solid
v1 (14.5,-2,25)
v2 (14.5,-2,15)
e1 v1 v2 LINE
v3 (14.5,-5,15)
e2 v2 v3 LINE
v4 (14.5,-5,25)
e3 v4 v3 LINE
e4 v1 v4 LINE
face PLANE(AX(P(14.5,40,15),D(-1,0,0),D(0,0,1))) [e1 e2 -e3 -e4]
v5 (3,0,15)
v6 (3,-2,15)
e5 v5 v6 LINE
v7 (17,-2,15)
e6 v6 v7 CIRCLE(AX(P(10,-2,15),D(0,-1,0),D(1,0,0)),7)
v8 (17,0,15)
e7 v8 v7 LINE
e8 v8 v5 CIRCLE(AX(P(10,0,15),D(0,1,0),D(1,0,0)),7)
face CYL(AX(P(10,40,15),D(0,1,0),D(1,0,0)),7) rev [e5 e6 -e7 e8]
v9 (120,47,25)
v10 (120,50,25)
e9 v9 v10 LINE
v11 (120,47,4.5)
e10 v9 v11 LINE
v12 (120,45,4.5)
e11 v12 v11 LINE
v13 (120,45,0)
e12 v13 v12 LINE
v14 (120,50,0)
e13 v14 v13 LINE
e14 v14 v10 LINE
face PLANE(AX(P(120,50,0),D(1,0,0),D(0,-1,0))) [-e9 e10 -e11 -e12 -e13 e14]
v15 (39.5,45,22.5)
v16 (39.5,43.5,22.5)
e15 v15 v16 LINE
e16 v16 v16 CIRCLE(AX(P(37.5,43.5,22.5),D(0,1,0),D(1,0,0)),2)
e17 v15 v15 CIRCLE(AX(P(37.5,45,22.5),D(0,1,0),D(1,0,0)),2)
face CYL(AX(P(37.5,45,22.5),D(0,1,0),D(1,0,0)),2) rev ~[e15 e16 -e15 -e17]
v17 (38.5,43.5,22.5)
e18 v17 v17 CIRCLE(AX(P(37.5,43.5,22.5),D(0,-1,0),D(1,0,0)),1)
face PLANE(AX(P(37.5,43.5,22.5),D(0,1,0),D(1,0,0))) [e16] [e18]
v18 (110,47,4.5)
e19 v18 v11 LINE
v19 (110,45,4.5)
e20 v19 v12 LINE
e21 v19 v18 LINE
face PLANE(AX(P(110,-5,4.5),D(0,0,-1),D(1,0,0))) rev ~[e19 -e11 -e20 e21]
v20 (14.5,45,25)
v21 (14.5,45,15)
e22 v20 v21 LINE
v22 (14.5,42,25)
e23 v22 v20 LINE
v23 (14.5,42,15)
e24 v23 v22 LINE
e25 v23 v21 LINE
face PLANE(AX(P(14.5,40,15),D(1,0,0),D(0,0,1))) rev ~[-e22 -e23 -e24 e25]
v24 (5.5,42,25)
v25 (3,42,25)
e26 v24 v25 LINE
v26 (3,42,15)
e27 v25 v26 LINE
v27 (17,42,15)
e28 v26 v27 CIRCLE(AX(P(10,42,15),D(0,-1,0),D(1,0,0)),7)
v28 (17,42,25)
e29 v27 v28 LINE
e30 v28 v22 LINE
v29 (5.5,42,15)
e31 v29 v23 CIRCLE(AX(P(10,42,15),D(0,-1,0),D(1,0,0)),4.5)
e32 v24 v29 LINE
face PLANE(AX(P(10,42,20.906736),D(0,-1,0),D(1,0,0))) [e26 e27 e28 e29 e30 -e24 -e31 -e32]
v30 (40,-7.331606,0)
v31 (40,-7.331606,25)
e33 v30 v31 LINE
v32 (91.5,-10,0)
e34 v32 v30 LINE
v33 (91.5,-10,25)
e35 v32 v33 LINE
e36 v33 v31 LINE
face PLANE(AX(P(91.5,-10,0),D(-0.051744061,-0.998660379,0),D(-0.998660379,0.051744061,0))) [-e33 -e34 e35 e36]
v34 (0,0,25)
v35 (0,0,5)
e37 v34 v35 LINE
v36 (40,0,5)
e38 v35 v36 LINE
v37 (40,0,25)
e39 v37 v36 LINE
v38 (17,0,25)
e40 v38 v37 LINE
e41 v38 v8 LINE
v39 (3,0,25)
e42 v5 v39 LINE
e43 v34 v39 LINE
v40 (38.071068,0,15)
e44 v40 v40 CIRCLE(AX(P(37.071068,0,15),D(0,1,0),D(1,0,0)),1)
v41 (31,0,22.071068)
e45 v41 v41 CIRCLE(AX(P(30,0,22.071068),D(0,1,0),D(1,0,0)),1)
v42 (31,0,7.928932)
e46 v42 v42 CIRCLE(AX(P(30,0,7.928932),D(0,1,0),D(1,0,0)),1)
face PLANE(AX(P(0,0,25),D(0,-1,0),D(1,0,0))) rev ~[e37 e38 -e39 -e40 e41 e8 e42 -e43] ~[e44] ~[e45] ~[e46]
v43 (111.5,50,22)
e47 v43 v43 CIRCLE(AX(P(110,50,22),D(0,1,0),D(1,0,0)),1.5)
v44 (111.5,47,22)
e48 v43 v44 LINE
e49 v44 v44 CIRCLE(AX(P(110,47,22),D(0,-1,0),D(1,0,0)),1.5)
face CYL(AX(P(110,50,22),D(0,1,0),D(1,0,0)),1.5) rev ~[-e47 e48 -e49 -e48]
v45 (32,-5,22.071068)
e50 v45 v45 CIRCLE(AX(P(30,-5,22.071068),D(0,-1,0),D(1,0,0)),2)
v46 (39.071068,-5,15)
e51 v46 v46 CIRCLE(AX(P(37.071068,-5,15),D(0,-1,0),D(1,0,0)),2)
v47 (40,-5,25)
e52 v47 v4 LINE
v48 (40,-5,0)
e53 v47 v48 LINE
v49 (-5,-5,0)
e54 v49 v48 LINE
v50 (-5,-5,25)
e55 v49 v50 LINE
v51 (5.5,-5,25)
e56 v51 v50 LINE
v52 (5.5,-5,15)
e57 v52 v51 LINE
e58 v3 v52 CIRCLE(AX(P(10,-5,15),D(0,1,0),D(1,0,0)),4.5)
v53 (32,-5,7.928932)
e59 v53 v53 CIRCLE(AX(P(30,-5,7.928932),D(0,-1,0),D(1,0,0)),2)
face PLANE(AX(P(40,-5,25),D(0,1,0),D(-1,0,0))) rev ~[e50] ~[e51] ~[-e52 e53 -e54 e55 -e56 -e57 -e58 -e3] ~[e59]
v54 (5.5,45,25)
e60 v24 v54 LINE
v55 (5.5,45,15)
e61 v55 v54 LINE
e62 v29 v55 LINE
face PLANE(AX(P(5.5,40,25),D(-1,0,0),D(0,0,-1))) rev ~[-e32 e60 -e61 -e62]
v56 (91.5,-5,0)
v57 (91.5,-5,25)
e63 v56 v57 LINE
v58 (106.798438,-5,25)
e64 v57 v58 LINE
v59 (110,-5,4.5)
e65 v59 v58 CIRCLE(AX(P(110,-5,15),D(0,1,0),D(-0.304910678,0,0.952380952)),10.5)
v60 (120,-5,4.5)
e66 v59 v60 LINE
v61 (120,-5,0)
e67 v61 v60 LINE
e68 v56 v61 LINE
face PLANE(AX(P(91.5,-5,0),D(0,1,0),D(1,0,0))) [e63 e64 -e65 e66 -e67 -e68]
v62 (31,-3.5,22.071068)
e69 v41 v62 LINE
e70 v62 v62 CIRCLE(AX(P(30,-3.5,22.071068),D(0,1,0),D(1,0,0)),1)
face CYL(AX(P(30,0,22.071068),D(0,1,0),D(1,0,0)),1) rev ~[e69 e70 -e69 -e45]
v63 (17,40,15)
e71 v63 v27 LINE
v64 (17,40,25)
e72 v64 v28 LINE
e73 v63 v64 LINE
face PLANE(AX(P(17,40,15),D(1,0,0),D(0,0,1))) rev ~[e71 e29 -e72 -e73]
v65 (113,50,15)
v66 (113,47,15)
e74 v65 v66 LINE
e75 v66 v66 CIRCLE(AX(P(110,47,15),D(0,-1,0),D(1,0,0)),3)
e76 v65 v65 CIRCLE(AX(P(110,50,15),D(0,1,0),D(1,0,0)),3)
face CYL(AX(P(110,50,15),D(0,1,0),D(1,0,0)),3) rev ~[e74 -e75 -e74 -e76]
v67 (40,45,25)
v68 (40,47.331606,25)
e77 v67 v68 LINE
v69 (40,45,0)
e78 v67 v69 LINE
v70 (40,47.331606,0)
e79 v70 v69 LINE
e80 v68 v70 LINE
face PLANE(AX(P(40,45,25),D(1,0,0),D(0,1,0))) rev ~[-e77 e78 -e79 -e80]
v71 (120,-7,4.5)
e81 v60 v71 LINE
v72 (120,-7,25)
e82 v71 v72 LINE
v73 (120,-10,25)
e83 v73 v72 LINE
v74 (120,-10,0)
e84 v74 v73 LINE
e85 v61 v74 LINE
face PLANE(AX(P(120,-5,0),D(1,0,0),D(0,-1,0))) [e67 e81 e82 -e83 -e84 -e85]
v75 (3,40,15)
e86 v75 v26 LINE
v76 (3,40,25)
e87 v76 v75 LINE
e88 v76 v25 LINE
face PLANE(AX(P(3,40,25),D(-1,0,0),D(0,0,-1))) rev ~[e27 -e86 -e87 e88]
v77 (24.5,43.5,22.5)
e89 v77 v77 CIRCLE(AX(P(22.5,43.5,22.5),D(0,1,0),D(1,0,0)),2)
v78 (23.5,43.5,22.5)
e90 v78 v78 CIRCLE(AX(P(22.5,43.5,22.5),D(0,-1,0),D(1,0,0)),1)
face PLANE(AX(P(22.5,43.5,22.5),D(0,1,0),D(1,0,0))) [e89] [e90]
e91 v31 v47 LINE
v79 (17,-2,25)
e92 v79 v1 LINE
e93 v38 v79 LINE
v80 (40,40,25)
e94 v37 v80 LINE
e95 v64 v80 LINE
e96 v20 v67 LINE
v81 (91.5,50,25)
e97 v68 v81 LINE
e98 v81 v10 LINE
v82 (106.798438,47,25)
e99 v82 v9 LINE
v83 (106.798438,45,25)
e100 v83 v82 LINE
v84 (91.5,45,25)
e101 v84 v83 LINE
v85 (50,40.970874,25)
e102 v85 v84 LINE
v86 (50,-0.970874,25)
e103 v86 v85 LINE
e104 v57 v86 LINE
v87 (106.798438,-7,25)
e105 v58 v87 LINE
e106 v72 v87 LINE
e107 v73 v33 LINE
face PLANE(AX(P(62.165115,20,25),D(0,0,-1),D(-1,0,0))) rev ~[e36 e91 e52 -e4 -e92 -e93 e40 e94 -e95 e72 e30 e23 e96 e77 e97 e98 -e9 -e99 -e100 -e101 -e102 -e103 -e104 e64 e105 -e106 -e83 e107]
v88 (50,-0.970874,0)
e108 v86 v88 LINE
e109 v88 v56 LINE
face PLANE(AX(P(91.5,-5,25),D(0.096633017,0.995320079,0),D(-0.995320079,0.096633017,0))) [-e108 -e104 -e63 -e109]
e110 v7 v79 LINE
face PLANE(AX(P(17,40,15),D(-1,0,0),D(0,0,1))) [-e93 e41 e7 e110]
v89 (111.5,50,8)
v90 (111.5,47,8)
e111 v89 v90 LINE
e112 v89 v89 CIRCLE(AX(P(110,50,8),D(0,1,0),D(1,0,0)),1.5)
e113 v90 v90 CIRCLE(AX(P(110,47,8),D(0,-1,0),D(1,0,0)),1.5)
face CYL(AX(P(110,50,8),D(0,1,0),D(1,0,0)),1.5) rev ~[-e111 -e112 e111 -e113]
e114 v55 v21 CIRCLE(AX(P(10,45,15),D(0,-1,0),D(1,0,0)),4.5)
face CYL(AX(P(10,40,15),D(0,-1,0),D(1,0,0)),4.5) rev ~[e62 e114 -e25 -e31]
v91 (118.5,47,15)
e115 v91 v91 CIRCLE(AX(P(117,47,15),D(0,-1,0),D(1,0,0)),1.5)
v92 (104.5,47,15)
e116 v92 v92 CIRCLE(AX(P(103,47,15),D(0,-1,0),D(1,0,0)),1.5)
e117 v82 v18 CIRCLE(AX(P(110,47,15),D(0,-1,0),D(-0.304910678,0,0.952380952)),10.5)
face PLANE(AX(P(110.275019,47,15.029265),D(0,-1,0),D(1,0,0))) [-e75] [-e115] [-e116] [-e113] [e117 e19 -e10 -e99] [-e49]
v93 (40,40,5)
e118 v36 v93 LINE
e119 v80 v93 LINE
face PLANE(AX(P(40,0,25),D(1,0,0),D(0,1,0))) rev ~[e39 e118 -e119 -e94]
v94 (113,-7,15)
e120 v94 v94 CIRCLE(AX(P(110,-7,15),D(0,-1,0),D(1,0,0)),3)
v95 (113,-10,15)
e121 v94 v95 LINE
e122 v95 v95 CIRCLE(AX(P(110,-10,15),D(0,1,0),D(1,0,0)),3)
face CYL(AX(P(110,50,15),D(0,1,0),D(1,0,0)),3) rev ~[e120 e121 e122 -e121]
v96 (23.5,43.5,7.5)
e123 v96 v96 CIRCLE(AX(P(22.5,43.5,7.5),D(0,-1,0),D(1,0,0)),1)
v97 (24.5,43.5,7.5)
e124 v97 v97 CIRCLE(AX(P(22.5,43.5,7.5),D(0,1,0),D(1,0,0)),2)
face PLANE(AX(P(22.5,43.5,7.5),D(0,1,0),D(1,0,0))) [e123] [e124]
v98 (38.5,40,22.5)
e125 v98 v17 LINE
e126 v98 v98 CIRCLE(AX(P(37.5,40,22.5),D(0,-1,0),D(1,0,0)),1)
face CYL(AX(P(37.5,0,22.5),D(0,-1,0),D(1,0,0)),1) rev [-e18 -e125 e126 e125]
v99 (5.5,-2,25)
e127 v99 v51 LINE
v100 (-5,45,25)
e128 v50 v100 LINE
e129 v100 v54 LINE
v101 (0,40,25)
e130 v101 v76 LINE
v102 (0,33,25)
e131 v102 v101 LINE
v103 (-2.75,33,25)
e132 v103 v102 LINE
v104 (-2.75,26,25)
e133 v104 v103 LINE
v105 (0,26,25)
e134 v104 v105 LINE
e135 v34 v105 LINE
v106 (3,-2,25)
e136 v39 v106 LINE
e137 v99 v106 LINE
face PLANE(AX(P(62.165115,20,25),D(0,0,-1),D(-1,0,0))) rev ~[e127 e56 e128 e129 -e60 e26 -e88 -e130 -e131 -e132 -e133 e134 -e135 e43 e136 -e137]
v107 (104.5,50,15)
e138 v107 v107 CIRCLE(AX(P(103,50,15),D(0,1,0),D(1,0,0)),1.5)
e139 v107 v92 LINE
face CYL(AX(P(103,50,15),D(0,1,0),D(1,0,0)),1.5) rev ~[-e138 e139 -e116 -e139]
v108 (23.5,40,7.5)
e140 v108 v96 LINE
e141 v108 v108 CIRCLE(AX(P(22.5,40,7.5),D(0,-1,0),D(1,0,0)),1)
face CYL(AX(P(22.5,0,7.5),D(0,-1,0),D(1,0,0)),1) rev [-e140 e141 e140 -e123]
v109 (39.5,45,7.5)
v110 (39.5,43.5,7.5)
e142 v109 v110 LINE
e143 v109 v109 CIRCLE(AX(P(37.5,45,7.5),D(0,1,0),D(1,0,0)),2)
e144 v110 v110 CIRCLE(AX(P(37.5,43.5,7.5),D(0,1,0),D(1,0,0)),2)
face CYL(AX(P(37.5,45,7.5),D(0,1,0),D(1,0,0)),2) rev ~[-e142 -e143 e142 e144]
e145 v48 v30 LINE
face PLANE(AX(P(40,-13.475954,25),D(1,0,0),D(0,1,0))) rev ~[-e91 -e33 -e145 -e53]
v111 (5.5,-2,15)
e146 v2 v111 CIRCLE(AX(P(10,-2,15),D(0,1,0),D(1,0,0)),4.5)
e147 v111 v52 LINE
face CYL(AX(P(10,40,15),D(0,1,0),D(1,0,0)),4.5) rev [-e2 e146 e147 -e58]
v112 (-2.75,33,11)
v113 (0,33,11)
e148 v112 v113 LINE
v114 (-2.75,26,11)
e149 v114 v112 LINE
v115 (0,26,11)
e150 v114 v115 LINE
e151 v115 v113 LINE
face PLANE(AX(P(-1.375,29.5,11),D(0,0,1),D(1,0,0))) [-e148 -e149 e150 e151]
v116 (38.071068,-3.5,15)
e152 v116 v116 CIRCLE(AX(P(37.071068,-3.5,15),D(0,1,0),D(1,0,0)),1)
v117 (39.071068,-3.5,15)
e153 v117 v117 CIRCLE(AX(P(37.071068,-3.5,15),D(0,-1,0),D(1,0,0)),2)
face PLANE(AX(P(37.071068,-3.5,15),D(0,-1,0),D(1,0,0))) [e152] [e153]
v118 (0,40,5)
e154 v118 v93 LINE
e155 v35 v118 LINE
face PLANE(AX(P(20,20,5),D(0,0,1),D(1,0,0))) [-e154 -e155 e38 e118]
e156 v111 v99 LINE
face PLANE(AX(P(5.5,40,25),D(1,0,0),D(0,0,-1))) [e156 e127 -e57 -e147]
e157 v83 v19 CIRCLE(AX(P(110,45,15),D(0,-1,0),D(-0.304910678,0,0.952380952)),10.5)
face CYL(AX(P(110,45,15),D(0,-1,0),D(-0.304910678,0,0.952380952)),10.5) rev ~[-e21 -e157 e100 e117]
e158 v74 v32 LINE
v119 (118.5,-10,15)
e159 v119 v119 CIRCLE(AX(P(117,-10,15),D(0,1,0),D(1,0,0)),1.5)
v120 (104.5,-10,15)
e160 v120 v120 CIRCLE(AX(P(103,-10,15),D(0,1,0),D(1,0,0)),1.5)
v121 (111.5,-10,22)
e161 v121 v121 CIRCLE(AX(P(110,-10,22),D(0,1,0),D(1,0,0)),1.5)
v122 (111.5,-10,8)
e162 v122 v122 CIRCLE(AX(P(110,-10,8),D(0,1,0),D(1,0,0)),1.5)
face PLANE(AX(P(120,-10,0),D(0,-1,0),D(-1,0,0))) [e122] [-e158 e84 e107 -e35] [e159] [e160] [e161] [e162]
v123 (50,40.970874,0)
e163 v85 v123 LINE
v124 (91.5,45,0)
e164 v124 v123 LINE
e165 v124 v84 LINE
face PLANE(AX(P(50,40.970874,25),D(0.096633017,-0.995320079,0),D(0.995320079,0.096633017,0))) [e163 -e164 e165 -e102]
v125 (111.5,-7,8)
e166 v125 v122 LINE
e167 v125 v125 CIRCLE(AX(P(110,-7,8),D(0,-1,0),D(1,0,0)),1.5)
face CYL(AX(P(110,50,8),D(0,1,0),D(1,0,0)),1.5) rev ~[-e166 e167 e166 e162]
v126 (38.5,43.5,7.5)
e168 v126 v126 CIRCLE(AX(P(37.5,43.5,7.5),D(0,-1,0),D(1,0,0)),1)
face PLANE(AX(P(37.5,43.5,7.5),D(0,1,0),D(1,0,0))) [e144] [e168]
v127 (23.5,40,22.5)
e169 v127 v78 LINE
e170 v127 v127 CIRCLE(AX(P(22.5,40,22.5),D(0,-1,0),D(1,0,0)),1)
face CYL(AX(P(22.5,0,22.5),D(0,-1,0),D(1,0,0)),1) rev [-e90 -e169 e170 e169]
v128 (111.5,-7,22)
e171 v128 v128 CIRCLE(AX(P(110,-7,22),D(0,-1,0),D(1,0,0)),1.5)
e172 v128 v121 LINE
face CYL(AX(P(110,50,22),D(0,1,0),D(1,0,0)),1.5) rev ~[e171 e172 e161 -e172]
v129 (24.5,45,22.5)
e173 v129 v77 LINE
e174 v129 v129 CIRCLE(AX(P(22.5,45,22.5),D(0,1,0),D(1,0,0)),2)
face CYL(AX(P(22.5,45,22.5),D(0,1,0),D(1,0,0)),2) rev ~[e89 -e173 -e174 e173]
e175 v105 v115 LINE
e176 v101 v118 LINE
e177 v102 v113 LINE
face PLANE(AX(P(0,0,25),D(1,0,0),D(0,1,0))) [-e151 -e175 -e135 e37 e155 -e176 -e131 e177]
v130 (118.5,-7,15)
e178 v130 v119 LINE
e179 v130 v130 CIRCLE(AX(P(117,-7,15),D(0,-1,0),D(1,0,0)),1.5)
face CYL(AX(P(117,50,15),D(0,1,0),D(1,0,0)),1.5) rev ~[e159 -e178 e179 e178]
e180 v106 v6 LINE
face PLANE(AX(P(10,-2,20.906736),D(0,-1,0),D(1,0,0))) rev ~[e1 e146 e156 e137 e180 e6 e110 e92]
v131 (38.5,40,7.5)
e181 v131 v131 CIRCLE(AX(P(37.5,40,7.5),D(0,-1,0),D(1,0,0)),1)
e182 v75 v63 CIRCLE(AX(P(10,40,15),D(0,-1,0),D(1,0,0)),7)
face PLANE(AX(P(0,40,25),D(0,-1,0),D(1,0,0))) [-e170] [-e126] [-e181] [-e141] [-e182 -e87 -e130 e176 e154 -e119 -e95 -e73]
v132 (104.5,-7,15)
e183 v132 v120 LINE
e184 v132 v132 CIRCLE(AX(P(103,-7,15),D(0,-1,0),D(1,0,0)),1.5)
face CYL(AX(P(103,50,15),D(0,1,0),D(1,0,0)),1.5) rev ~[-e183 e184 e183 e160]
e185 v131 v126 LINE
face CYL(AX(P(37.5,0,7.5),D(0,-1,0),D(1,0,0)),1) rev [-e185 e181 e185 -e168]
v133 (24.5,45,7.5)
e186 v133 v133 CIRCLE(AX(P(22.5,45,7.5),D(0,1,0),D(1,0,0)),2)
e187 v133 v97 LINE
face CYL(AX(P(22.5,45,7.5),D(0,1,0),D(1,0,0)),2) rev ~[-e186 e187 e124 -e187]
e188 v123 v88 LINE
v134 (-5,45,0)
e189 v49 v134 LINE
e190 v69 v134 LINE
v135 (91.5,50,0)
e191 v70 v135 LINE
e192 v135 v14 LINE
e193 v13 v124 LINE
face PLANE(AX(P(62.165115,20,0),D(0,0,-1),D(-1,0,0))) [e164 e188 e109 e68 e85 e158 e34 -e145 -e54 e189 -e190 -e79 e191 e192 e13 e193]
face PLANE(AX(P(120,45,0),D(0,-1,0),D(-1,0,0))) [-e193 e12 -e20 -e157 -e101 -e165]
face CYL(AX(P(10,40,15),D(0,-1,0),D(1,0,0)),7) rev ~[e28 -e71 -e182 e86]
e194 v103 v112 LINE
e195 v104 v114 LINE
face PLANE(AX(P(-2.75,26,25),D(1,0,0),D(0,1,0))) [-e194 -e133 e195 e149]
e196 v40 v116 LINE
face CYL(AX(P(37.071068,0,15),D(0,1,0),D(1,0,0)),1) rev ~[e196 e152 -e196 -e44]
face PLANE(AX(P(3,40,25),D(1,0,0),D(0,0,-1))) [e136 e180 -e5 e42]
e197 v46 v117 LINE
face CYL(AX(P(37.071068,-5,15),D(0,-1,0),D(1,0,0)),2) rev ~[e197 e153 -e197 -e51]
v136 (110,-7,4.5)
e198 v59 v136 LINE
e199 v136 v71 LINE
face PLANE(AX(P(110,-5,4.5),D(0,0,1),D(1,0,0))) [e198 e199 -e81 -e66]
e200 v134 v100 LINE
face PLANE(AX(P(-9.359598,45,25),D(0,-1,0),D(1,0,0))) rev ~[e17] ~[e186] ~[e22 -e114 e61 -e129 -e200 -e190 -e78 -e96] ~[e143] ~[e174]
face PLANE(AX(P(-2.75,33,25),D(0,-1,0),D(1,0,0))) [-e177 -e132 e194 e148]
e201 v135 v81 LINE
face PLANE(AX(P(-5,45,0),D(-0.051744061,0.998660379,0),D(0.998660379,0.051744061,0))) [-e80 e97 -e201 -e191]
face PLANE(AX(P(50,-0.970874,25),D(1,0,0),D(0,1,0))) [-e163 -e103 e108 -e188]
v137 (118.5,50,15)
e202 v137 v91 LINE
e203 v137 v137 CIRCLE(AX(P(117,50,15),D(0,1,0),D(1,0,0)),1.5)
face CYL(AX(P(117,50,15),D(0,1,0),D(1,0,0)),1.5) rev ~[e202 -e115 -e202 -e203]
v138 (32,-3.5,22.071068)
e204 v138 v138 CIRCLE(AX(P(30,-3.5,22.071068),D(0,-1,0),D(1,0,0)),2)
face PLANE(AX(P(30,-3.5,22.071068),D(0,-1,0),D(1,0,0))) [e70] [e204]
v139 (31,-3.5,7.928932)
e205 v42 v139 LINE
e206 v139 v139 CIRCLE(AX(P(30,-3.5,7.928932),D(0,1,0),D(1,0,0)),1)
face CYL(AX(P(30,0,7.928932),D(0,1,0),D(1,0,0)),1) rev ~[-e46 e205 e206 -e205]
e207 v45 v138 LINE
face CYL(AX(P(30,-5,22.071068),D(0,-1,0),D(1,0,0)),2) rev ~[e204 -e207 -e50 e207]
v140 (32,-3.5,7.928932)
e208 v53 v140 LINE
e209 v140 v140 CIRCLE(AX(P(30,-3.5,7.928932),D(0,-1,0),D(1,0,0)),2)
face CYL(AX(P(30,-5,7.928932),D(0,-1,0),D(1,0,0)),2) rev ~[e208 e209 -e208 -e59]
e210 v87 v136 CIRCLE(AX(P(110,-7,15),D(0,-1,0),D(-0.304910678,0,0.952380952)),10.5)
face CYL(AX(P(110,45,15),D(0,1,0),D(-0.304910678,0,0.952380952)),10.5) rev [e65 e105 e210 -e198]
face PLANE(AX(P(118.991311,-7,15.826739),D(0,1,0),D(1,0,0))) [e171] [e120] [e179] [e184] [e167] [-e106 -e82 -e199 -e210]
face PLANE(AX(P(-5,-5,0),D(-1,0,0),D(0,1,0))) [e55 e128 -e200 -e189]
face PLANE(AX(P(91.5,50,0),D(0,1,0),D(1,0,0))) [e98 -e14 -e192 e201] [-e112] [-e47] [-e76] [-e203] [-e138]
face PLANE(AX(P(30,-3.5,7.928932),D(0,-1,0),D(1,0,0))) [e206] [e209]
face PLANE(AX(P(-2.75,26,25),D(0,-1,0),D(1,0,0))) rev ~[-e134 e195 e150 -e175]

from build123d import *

# Parameters (mm, degrees)
SALIENTE_EXTRUIR2_DEPTH    = 25
CROQUIS4_W                 = 40
CROQUIS4_H                 = 40
CORTAR_EXTRUIR1_DEPTH      = 20
CROQUIS5_R                 = 7
CORTAR_EXTRUIR2_DEPTH      = 42
CORTAR_EXTRUIR2_DEPTH_BACK = 2
CROQUIS6_R                 = 4.5
CORTAR_EXTRUIR3_DEPTH      = 51
CORTAR_EXTRUIR3_DEPTH_BACK = 11
CORTAR_EXTRUIR4_DEPTH      = 26
CROQUIS9_R                 = 1.5
CROQUIS9_R_2               = 3
CORTAR_EXTRUIR6_DEPTH      = 61
CROQUIS10_R                = 1.5
CROQUIS10_R_2              = 3
CORTAR_EXTRUIR7_DEPTH      = 52
CORTAR_EXTRUIR7_DEPTH_BACK = 2
CROQUIS11_W                = 17.982621029
CROQUIS11_H                = 22.653478674
CORTAR_EXTRUIR8_DEPTH      = 52
CORTAR_EXTRUIR8_DEPTH_BACK = 2
CROQUIS13_R                = 1
CORTAR_EXTRUIR9_DEPTH      = 70
CROQUIS14_R                = 1
CORTAR_EXTRUIR10_DEPTH     = 70
CROQUIS15_R                = 2
CORTAR_EXTRUIR11_DEPTH     = 1.5
CROQUIS16_R                = 2
CORTAR_EXTRUIR12_DEPTH     = 1.5
CROQUIS18_W                = 2.75
CROQUIS18_H                = 7
CORTAR_EXTRUIR13_DEPTH     = 14


with BuildPart() as part:
    # Croquis3 → Saliente-Extruir2 (new body)
    with BuildSketch(Plane.XY):
        Polygon((-5, 45), (91.5, 50), (120, 50), (120, 45), (91.5, 45), (91.5, -5), (120, -5), (120, -10), (91.5, -10), (-5, -5), align=None)
    extrude(amount=SALIENTE_EXTRUIR2_DEPTH)

    # Croquis4 → Cortar-Extruir1 (cut)
    with BuildSketch(Plane.XY.offset(25)):
        with Locations((20, 20)):
            Rectangle(CROQUIS4_W, CROQUIS4_H)
    extrude(amount=-CORTAR_EXTRUIR1_DEPTH, mode=Mode.SUBTRACT)

    # Croquis5 → Cortar-Extruir2 (cut, two sides)
    with BuildSketch(Plane.XZ.offset(-40)) as cortar_extruir2_sk:
        with BuildLine():
            ThreePointArc((3, 15), (10, 22), (17, 15))
            Line((17, 15), (17, 25))
            Line((17, 25), (3, 25))
            Line((3, 25), (3, 15))
        make_face()
        with Locations((10, 15)):
            Circle(CROQUIS5_R)
    extrude(amount=CORTAR_EXTRUIR2_DEPTH, mode=Mode.SUBTRACT)
    extrude(cortar_extruir2_sk.sketch, amount=-CORTAR_EXTRUIR2_DEPTH_BACK, mode=Mode.SUBTRACT)

    # Croquis6 → Cortar-Extruir3 (cut, two sides)
    with BuildSketch(Plane.XZ.offset(-40)) as cortar_extruir3_sk:
        with Locations((10, 15)):
            Circle(CROQUIS6_R)
        with BuildLine():
            ThreePointArc((5.5, 15), (10, 19.5), (14.5, 15))
            Line((14.5, 15), (14.5, 25))
            Line((14.5, 25), (5.5, 25))
            Line((5.5, 25), (5.5, 15))
        make_face()
    extrude(amount=CORTAR_EXTRUIR3_DEPTH, mode=Mode.SUBTRACT)
    extrude(cortar_extruir3_sk.sketch, amount=-CORTAR_EXTRUIR3_DEPTH_BACK, mode=Mode.SUBTRACT)

    # Croquis7 → Cortar-Extruir4 (cut, through all)
    with BuildSketch(Plane.XY.offset(25)):
        Polygon((91.5, -5), (50, -0.970873786), (50, 40.970873786), (91.5, 45), align=None)
        Polygon((14.5, 45), (40, 45), (40, 47.331606218), (14.5, 46.010362694), align=None)
        Polygon((14.5, 46.010362694), (40, 47.331606218), (0.618282838, 66.022921742), (-9.359597555, 45), (-5, 45), (14.5, 45), align=None)
        Polygon((40, -7.331606218), (40, -5), (14.5, -5), (14.5, -6.010362694), align=None)
        Polygon((40, -13.475953965), (40, -7.331606218), (14.5, -6.010362694), (14.5, -5), (-5, -5), (-6.220267397, -9.241340311), align=None)
    extrude(amount=-CORTAR_EXTRUIR4_DEPTH, mode=Mode.SUBTRACT)

    # Croquis9 → Cortar-Extruir6 (cut)
    with BuildSketch(Plane(origin=(0, 50, 0), x_dir=(1, 0, 0), z_dir=(0, 1, 0))):
        with Locations((110, -8)):
            Circle(CROQUIS9_R)
        with Locations((110, -15)):
            Circle(CROQUIS9_R_2)
        with Locations((117, -15)):
            Circle(CROQUIS9_R)
        with Locations((110, -22)):
            Circle(CROQUIS9_R)
        with Locations((103, -15)):
            Circle(CROQUIS9_R)
    extrude(amount=-CORTAR_EXTRUIR6_DEPTH, mode=Mode.SUBTRACT)

    # Croquis10 → Cortar-Extruir7 (cut, two sides)
    with BuildSketch(Plane.XZ.offset(-45)) as cortar_extruir7_sk:
        with BuildLine():
            ThreePointArc((120, 18.201562119), (117.424621202, 22.424621202), (113.201562119, 25))
            Line((113.201562119, 25), (106.798437881, 25))
            ThreePointArc((106.798437881, 25), (99.625753039, 13.379814825), (110, 4.5))
            ThreePointArc((110, 4.5), (116.190056452, 6.518655701), (120, 11.798437881))
            Line((120, 11.798437881), (120, 18.201562119))
        make_face()
        with Locations((110, 8)):
            Circle(CROQUIS10_R, mode=Mode.SUBTRACT)
        with Locations((117, 15)):
            Circle(CROQUIS10_R, mode=Mode.SUBTRACT)
        with Locations((103, 15)):
            Circle(CROQUIS10_R, mode=Mode.SUBTRACT)
        with Locations((110, 15)):
            Circle(CROQUIS10_R_2, mode=Mode.SUBTRACT)
        with Locations((110, 22)):
            Circle(CROQUIS10_R, mode=Mode.SUBTRACT)
        with BuildLine():
            Line((132.305371991, 25.5), (110, 25.5))
            ThreePointArc((110, 25.5), (111.620185175, 25.374246961), (113.201562119, 25))
            Line((113.201562119, 25), (120, 25))
            Line((120, 25), (120, 18.201562119))
            ThreePointArc((120, 18.201562119), (120.374246961, 16.620185175), (120.5, 15))
            ThreePointArc((120.5, 15), (120.374246961, 13.379814825), (120, 11.798437881))
            Line((120, 11.798437881), (120, 4.5))
            Line((120, 4.5), (132.305371991, 4.5))
            Line((132.305371991, 4.5), (132.305371991, 25.5))
        make_face()
    extrude(amount=CORTAR_EXTRUIR7_DEPTH, mode=Mode.SUBTRACT)
    extrude(cortar_extruir7_sk.sketch, amount=-CORTAR_EXTRUIR7_DEPTH_BACK, mode=Mode.SUBTRACT)

    # Croquis11 → Cortar-Extruir8 (cut, two sides)
    with BuildSketch(Plane(origin=(0, -5, 0), x_dir=(1, 0, 0), z_dir=(0, 1, 0))) as cortar_extruir8_sk:
        with Locations((118.991310515, -15.826739337)):
            Rectangle(CROQUIS11_W, CROQUIS11_H)
    extrude(amount=CORTAR_EXTRUIR8_DEPTH, mode=Mode.SUBTRACT)
    extrude(cortar_extruir8_sk.sketch, amount=-CORTAR_EXTRUIR8_DEPTH_BACK, mode=Mode.SUBTRACT)

    # Croquis13 → Cortar-Extruir9 (cut)
    with BuildSketch(Plane(origin=(0, 0, 0), x_dir=(1, 0, 0), z_dir=(0, 1, 0))):
        with Locations((37.5, -7.5)):
            Circle(CROQUIS13_R)
        with Locations((37.5, -22.5)):
            Circle(CROQUIS13_R)
        with Locations((22.5, -22.5)):
            Circle(CROQUIS13_R)
        with Locations((22.5, -7.5)):
            Circle(CROQUIS13_R)
    extrude(amount=CORTAR_EXTRUIR9_DEPTH, mode=Mode.SUBTRACT)

    # Croquis14 → Cortar-Extruir10 (cut)
    with BuildSketch(Plane(origin=(0, 0, 0), x_dir=(1, 0, 0), z_dir=(0, 1, 0))):
        with Locations((37.071067812, -15)):
            Circle(CROQUIS14_R)
        with Locations((30, -7.928932188)):
            Circle(CROQUIS14_R)
        with Locations((30, -22.071067812)):
            Circle(CROQUIS14_R)
    extrude(amount=-CORTAR_EXTRUIR10_DEPTH, mode=Mode.SUBTRACT)

    # Croquis15 → Cortar-Extruir11 (cut)
    with BuildSketch(Plane(origin=(0, 45, 0), x_dir=(1, 0, 0), z_dir=(0, 1, 0))):
        with Locations((22.5, -7.5)):
            Circle(CROQUIS15_R)
        with Locations((37.5, -7.5)):
            Circle(CROQUIS15_R)
        with Locations((37.5, -22.5)):
            Circle(CROQUIS15_R)
        with Locations((22.5, -22.5)):
            Circle(CROQUIS15_R)
    extrude(amount=-CORTAR_EXTRUIR11_DEPTH, mode=Mode.SUBTRACT)

    # Croquis16 → Cortar-Extruir12 (cut)
    with BuildSketch(Plane.XZ.offset(5)):
        with Locations((30, 22.071067812)):
            Circle(CROQUIS16_R)
        with Locations((37.071067812, 15)):
            Circle(CROQUIS16_R)
        with Locations((30, 7.928932188)):
            Circle(CROQUIS16_R)
    extrude(amount=-CORTAR_EXTRUIR12_DEPTH, mode=Mode.SUBTRACT)

    # Croquis18 → Cortar-Extruir13 (cut)
    with BuildSketch(Plane.XY.offset(25)):
        with Locations((-1.375, 29.5)):
            Rectangle(CROQUIS18_W, CROQUIS18_H)
    extrude(amount=-CORTAR_EXTRUIR13_DEPTH, mode=Mode.SUBTRACT)


solid = part.part
